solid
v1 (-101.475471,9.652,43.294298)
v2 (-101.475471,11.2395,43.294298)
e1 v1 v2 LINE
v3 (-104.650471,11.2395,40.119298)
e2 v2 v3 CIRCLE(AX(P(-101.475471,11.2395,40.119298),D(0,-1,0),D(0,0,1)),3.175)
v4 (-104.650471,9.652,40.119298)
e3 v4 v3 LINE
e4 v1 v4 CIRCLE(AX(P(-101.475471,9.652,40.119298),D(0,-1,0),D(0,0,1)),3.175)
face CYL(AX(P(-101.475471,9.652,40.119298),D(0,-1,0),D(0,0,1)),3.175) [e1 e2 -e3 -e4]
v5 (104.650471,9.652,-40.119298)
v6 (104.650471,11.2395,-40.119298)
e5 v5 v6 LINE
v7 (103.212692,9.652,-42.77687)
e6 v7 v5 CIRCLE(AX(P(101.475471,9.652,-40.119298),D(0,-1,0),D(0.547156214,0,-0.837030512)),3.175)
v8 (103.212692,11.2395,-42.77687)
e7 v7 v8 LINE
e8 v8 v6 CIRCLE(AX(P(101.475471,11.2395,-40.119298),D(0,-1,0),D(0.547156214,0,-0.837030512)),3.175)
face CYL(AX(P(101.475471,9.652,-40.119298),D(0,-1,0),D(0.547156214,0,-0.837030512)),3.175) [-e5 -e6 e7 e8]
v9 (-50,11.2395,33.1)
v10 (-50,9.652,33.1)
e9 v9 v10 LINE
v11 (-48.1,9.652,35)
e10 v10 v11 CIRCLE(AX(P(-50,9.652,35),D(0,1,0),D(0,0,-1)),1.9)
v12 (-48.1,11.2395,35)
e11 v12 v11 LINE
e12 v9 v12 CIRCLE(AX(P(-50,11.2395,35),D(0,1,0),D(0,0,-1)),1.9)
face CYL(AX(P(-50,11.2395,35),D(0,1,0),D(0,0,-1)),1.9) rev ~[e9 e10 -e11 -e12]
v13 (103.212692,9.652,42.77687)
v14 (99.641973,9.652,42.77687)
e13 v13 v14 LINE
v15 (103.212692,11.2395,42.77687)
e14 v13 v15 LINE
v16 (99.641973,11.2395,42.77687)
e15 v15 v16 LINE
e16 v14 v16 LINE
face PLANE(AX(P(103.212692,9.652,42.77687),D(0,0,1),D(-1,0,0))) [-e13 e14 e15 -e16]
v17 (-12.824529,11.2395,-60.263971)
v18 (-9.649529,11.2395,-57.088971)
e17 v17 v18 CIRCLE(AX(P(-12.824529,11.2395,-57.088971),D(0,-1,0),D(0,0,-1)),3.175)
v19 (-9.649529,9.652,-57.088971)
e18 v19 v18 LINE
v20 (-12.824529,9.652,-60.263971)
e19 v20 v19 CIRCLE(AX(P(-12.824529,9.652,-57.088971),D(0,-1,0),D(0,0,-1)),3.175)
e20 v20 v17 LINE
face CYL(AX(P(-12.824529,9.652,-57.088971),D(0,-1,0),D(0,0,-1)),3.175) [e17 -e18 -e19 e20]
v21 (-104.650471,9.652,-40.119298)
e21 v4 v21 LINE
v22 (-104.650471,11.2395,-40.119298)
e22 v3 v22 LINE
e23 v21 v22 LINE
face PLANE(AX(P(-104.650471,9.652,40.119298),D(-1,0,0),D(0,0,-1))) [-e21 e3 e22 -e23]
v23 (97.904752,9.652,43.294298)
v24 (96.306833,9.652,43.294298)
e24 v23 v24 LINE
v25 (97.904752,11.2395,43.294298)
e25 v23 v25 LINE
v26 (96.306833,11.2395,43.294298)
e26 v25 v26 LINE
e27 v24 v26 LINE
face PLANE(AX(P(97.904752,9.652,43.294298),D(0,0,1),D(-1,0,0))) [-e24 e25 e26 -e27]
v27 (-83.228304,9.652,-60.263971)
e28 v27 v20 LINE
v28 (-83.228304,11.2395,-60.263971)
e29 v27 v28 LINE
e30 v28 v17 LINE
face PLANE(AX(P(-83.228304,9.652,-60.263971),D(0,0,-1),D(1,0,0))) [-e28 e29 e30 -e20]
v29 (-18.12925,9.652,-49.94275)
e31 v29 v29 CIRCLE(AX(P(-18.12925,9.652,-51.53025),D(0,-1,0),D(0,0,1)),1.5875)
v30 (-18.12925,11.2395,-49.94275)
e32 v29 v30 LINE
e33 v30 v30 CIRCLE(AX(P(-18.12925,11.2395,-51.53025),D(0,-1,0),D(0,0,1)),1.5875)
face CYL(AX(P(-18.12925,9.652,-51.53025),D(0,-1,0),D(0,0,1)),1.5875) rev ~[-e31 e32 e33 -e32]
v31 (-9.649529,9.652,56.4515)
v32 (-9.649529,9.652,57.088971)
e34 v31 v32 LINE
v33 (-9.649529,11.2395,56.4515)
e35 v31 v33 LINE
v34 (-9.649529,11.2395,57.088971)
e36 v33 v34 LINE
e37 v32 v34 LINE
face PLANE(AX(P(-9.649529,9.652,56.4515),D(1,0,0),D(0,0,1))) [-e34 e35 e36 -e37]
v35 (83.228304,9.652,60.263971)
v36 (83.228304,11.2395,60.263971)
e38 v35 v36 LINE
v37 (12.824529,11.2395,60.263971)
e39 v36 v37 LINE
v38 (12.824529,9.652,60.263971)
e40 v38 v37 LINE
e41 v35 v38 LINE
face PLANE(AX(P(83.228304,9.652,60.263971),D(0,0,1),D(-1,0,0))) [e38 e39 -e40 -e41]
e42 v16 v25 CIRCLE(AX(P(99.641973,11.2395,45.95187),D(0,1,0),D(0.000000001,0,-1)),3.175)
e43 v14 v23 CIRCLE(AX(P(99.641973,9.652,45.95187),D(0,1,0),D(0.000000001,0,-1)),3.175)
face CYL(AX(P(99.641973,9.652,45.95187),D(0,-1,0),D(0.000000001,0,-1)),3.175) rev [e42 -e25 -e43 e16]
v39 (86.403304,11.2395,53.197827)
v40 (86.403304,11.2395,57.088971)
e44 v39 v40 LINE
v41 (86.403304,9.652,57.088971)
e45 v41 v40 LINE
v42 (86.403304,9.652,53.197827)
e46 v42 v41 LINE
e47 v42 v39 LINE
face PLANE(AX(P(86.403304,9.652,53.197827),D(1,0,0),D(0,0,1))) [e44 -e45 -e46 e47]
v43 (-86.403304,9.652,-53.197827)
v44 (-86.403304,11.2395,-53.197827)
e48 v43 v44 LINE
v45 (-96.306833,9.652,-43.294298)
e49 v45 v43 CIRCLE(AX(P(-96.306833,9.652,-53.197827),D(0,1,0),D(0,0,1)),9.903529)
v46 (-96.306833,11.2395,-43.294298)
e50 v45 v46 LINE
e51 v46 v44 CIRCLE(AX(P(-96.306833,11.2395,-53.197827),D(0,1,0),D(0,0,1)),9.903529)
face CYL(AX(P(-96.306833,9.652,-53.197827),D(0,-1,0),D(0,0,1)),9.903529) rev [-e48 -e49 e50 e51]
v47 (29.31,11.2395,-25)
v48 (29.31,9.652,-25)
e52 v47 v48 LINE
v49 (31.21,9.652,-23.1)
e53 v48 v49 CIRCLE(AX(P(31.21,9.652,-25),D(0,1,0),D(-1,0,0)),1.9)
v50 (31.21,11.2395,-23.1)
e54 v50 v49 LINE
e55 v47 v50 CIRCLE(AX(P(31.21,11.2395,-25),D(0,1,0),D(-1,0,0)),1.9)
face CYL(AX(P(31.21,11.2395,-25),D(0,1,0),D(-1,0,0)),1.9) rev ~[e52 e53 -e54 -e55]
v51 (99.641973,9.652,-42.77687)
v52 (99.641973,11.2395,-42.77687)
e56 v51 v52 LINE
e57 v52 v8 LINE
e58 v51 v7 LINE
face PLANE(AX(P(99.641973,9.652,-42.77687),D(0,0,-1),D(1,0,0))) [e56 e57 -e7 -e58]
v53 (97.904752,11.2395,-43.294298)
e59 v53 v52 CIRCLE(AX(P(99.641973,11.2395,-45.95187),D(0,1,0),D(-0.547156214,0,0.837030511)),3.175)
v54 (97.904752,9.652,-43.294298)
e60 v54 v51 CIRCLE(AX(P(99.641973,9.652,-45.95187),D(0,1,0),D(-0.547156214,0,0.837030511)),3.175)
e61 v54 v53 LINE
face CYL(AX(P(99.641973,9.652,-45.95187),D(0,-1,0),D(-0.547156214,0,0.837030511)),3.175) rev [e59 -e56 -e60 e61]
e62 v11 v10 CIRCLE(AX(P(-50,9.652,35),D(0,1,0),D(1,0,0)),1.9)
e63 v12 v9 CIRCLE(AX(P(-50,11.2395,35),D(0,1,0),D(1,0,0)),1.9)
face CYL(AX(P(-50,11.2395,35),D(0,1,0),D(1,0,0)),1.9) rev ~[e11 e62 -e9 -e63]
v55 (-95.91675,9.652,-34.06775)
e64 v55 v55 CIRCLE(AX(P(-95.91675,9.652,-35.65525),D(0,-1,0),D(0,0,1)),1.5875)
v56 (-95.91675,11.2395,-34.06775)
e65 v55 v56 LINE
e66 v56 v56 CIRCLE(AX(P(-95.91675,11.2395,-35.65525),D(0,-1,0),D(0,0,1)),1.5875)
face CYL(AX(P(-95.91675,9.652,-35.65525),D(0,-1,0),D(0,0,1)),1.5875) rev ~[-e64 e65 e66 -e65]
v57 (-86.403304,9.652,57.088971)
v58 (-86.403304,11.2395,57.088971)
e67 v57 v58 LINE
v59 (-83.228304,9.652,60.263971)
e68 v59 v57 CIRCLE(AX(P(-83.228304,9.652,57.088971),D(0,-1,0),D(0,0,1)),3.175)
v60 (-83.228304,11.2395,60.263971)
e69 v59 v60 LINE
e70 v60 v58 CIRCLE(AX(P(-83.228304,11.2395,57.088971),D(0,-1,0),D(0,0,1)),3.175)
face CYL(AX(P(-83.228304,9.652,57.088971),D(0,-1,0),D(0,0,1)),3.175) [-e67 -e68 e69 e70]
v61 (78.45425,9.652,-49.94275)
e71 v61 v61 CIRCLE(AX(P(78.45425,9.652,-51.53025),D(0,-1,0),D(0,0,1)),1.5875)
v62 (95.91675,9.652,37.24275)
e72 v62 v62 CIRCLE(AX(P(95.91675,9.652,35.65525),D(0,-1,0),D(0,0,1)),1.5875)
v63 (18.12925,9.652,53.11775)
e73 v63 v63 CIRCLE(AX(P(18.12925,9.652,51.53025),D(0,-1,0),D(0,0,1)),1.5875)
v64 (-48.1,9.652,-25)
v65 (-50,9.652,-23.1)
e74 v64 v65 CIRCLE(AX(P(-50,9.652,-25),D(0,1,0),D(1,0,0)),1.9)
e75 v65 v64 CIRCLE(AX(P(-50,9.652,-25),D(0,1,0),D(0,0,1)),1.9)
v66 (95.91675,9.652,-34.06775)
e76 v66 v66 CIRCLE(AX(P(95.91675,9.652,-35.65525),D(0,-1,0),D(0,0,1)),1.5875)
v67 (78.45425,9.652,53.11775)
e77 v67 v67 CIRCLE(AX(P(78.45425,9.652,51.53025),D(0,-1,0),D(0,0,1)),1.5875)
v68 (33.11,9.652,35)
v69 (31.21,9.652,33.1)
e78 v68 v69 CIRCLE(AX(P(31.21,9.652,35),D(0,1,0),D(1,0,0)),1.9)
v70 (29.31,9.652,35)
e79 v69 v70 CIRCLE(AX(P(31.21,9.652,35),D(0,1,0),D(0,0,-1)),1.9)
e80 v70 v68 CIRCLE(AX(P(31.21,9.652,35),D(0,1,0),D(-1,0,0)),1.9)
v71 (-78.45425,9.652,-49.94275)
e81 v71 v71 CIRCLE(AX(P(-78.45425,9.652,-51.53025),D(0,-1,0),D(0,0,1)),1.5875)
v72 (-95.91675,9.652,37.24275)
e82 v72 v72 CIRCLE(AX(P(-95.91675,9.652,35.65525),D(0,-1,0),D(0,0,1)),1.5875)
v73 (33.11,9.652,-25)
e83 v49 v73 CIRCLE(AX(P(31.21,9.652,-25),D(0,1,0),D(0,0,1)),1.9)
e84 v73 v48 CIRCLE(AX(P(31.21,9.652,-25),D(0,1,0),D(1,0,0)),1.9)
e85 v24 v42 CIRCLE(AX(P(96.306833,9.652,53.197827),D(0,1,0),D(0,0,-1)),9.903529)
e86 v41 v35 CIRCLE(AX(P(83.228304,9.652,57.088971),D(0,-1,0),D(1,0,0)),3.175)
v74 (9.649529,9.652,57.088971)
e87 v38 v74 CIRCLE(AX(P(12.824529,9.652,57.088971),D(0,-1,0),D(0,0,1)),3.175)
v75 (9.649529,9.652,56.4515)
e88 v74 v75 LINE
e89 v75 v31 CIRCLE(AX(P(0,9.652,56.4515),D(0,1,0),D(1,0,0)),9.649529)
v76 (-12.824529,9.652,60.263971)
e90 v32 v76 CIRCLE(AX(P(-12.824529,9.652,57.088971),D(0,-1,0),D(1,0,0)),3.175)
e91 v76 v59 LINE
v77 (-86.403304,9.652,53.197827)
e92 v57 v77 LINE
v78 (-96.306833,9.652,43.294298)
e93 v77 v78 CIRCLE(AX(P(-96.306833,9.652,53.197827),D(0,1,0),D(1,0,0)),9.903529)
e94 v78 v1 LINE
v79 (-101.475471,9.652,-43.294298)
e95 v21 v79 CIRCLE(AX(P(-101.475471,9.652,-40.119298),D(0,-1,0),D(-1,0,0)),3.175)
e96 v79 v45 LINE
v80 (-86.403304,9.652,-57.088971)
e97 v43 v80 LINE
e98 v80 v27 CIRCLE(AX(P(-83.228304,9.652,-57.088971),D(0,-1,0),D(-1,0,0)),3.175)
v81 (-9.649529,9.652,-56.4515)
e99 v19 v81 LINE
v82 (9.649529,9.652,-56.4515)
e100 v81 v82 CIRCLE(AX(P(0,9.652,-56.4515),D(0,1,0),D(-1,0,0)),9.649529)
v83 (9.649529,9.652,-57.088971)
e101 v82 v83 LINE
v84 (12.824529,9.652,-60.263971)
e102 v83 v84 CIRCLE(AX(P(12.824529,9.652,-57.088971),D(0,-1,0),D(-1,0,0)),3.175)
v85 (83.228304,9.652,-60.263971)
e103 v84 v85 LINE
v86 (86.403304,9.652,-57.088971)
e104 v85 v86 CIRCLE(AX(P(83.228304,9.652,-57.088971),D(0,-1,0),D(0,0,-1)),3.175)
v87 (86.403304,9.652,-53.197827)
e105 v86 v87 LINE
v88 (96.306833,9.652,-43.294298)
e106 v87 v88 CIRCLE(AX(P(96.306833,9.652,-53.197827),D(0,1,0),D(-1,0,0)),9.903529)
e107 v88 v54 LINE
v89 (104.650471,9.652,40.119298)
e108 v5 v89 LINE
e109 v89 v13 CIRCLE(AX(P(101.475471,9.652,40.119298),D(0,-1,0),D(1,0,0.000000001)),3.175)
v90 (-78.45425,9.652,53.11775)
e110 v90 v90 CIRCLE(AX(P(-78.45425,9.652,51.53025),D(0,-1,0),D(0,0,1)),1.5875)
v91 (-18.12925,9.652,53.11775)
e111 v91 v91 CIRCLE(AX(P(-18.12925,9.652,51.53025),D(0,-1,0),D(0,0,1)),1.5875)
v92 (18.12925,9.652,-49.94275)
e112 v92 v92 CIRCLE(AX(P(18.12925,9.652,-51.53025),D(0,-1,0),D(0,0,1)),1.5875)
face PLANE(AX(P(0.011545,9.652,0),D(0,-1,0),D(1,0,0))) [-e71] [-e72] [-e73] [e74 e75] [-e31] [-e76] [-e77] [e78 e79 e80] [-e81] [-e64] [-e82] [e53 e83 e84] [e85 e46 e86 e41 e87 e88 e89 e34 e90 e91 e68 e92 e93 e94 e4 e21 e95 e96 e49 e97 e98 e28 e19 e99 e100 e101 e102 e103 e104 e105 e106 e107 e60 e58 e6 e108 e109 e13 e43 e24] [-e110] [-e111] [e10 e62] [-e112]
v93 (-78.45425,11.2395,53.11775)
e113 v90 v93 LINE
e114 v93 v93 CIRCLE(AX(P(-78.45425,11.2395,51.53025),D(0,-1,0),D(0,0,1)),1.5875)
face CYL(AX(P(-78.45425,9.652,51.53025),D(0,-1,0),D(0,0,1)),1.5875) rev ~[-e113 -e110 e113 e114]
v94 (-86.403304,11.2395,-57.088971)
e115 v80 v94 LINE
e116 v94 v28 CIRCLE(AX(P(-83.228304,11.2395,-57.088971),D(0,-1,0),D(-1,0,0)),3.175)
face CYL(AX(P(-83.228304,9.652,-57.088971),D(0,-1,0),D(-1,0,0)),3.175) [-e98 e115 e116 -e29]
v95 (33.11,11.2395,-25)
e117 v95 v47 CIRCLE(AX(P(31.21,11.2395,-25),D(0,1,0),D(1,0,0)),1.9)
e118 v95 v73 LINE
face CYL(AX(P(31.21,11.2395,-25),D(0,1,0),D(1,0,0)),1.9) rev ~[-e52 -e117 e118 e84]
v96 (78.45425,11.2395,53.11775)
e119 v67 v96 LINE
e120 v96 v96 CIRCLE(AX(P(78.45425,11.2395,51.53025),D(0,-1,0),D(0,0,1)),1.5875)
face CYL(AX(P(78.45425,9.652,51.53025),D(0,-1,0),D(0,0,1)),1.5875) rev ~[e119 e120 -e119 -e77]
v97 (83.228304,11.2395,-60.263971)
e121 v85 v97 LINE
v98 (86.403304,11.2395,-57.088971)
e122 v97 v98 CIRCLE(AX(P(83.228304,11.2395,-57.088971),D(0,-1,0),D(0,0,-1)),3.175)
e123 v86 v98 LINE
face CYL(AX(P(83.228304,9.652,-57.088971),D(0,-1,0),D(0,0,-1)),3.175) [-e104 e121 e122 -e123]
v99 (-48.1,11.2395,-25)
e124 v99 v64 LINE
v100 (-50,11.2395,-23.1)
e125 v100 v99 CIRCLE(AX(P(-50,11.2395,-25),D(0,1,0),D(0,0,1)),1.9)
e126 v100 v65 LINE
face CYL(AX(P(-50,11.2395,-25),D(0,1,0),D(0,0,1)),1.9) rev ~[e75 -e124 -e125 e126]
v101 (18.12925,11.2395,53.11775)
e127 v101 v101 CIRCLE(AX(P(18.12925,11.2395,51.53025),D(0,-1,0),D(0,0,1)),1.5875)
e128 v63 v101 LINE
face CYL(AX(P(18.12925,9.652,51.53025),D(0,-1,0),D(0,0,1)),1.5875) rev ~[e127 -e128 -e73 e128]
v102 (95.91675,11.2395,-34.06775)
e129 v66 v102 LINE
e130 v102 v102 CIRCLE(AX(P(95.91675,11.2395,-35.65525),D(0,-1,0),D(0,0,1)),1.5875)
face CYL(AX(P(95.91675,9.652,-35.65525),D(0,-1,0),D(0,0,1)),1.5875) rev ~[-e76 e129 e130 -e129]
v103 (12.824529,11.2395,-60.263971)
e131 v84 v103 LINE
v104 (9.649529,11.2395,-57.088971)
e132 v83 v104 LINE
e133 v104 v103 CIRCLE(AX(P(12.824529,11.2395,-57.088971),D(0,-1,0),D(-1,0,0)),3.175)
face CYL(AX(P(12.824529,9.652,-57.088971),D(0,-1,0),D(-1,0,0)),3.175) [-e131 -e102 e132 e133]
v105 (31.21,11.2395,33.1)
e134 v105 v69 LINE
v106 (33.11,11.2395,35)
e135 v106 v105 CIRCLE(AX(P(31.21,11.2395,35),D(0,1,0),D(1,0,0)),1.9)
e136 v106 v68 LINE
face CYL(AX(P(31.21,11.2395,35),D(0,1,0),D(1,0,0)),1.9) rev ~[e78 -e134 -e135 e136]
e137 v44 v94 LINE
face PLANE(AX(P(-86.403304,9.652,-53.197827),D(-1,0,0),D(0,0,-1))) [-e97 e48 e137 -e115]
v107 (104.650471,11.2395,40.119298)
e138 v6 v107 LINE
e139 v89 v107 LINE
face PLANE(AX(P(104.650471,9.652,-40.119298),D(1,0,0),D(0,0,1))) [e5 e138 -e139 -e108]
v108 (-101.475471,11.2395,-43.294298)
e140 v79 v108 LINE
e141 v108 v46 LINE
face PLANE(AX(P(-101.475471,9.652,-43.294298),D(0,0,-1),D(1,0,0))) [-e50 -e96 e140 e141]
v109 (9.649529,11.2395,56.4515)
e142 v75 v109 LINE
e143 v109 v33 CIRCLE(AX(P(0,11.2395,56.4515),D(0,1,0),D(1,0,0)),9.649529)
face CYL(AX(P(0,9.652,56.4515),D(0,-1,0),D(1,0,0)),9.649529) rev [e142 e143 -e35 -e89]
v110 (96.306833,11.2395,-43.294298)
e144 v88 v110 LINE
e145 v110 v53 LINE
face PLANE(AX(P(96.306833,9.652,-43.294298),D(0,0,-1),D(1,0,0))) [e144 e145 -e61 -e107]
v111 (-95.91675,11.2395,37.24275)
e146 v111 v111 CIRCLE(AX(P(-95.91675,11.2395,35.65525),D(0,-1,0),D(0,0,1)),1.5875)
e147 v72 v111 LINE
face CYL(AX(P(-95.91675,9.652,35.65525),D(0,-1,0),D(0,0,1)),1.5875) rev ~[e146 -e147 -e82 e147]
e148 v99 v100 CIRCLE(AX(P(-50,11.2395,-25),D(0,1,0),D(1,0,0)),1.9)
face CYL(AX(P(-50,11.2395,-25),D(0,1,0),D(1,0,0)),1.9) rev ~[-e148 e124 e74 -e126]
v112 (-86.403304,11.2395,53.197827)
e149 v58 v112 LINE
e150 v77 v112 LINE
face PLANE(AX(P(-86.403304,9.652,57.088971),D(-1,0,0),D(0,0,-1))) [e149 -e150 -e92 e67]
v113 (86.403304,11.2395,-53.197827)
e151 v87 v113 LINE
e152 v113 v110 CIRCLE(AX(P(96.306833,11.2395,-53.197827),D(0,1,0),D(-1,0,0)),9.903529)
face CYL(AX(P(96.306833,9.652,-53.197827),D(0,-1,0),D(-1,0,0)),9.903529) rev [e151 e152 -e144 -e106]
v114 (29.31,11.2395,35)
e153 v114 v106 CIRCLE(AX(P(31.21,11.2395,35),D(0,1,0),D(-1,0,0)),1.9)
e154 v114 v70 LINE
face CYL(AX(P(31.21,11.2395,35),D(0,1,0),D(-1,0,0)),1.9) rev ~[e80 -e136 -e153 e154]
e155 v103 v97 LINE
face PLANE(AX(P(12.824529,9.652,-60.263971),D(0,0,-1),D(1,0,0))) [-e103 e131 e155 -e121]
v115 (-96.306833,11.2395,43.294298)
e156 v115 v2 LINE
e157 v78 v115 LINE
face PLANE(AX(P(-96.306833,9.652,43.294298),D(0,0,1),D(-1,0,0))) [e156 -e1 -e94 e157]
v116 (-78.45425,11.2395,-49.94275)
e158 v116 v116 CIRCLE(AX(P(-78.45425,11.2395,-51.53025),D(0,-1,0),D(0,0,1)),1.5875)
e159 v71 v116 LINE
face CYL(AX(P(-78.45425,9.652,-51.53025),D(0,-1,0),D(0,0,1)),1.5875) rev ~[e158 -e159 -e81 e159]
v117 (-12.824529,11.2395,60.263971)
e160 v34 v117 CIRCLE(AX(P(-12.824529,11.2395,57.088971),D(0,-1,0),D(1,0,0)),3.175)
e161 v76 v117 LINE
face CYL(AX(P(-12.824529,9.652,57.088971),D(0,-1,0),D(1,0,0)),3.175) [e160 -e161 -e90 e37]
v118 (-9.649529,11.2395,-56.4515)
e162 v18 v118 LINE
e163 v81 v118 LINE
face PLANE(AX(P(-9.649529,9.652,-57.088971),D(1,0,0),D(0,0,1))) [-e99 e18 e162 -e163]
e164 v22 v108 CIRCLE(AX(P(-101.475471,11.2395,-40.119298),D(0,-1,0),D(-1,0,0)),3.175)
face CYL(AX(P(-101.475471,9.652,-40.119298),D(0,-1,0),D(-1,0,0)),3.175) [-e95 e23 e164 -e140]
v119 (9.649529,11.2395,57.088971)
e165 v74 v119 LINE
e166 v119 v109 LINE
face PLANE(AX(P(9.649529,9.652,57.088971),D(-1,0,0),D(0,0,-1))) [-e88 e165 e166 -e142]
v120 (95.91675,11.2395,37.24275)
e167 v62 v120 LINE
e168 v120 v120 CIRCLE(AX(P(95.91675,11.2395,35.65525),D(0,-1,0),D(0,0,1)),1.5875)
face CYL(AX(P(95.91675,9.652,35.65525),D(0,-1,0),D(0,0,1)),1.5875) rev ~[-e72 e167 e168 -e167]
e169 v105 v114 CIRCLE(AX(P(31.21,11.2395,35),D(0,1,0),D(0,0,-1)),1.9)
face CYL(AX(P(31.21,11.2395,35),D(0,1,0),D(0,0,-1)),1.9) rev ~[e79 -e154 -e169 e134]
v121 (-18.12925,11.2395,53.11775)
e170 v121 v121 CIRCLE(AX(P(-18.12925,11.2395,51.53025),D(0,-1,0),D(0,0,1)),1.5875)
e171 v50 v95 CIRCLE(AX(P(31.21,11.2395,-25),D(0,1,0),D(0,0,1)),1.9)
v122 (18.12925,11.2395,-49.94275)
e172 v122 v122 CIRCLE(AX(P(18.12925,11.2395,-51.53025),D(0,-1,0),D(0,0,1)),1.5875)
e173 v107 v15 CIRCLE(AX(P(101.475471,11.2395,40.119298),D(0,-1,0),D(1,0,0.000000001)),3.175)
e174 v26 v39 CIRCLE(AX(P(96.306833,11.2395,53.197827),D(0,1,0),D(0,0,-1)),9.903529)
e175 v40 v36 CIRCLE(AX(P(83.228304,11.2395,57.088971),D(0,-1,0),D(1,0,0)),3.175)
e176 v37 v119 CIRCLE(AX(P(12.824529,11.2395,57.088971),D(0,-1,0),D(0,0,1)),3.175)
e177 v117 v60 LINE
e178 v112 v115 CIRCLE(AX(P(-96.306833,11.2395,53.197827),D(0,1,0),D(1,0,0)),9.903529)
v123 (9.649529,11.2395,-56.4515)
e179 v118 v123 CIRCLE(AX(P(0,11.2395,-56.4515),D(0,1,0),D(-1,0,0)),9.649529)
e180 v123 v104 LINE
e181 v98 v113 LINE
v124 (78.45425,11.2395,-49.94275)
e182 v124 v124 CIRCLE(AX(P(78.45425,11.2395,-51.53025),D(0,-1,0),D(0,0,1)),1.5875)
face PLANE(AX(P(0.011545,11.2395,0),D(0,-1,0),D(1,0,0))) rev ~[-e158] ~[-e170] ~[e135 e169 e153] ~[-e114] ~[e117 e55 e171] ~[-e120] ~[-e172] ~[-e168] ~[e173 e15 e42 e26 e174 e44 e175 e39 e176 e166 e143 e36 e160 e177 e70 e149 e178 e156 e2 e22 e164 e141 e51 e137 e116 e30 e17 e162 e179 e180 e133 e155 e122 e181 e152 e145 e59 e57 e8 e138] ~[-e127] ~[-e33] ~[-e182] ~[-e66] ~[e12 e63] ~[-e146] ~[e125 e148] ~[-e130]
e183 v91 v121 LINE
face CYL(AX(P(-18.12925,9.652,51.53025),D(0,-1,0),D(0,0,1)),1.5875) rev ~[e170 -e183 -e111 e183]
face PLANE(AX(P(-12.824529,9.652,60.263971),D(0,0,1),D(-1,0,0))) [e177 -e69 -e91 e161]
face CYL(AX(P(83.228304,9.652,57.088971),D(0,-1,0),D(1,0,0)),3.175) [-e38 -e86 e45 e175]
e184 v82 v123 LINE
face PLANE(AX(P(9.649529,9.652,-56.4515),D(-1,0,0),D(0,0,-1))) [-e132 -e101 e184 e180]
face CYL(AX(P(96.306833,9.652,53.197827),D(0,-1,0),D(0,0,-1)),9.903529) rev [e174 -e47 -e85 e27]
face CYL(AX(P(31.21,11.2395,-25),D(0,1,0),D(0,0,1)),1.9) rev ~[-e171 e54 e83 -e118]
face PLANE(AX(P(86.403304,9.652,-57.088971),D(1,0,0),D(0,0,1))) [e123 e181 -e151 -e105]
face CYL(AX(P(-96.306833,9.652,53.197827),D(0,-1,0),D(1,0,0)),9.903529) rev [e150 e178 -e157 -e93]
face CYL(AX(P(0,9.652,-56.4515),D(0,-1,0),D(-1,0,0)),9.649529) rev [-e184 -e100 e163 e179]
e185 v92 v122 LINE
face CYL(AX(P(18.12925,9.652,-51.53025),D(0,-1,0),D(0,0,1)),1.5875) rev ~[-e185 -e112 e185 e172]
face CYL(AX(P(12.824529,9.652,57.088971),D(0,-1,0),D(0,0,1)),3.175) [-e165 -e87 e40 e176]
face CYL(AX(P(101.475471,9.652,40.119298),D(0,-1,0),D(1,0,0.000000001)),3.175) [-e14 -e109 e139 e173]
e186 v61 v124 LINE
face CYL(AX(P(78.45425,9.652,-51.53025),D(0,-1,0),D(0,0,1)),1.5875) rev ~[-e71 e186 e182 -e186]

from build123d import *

# Parameters (mm, degrees)
SKETCH1_R           = 1.5875
BOSS_EXTRUDE1_DEPTH = 1.5875
CUT_EXTRUDE1_DEPTH  = 10


with BuildPart() as part:
    # Sketch1 → Boss-Extrude1 (new body)
    with BuildSketch(Plane.XZ.offset(-9.652)):
        with BuildLine():
            Line((-9.649529152, -57.088970848), (-9.649529152, -56.4515))
            ThreePointArc((-9.649529152, -56.4515), (0, -46.801970848), (9.649529152, -56.4515))
            Line((9.649529152, -56.4515), (9.649529152, -57.088970848))
            ThreePointArc((9.649529152, -57.088970848), (10.579465122, -59.334034878), (12.824529152, -60.263970848))
            Line((12.824529152, -60.263970848), (83.228304068, -60.263970848))
            ThreePointArc((83.228304068, -60.263970848), (85.473368098, -59.334034878), (86.403304068, -57.088970848))
            Line((86.403304068, -57.088970848), (86.403304068, -53.197827078))
            ThreePointArc((86.403304068, -53.197827078), (89.303980599, -46.194974456), (96.306833221, -43.294297925))
            Line((96.306833221, -43.294297925), (97.90475189, -43.294297925))
            ThreePointArc((97.90475189, -43.294297925), (98.735652203, -42.90897515), (99.641972868, -42.776869801))
            Line((99.641972868, -42.776869801), (103.212691826, -42.776869801))
            ThreePointArc((103.212691826, -42.776869801), (104.267987777, -41.630083879), (104.650470848, -40.119297925))
            Line((104.650470848, -40.119297925), (104.650470848, 40.119297925))
            ThreePointArc((104.650470848, 40.119297925), (104.267987777, 41.630083879), (103.212691826, 42.776869801))
            Line((103.212691826, 42.776869801), (99.641972868, 42.776869801))
            ThreePointArc((99.641972868, 42.776869801), (98.735652203, 42.90897515), (97.90475189, 43.294297925))
            Line((97.90475189, 43.294297925), (96.306833221, 43.294297925))
            ThreePointArc((96.306833221, 43.294297925), (89.303980599, 46.194974456), (86.403304068, 53.197827078))
            Line((86.403304068, 53.197827078), (86.403304068, 57.088970848))
            ThreePointArc((86.403304068, 57.088970848), (85.473368098, 59.334034878), (83.228304068, 60.263970848))
            Line((83.228304068, 60.263970848), (12.824529152, 60.263970848))
            ThreePointArc((12.824529152, 60.263970848), (10.579465122, 59.334034878), (9.649529152, 57.088970848))
            Line((9.649529152, 57.088970848), (9.649529152, 56.4515))
            ThreePointArc((9.649529152, 56.4515), (0, 46.801970848), (-9.649529152, 56.4515))
            Line((-9.649529152, 56.4515), (-9.649529152, 57.088970848))
            ThreePointArc((-9.649529152, 57.088970848), (-10.579465122, 59.334034878), (-12.824529152, 60.263970848))
            Line((-12.824529152, 60.263970848), (-83.228304068, 60.263970848))
            ThreePointArc((-83.228304068, 60.263970848), (-85.473368098, 59.334034878), (-86.403304068, 57.088970848))
            Line((-86.403304068, 57.088970848), (-86.403304068, 53.197827078))
            ThreePointArc((-86.403304068, 53.197827078), (-89.303980599, 46.194974456), (-96.306833221, 43.294297925))
            Line((-96.306833221, 43.294297925), (-101.475470848, 43.294297925))
            ThreePointArc((-101.475470848, 43.294297925), (-103.720534878, 42.364361955), (-104.650470848, 40.119297925))
            Line((-104.650470848, 40.119297925), (-104.650470848, -40.119297925))
            ThreePointArc((-104.650470848, -40.119297925), (-103.720534878, -42.364361955), (-101.475470848, -43.294297925))
            Line((-101.475470848, -43.294297925), (-96.306833221, -43.294297925))
            ThreePointArc((-96.306833221, -43.294297925), (-89.303980599, -46.194974456), (-86.403304068, -53.197827078))
            Line((-86.403304068, -53.197827078), (-86.403304068, -57.088970848))
            ThreePointArc((-86.403304068, -57.088970848), (-85.473368098, -59.334034878), (-83.228304068, -60.263970848))
            Line((-83.228304068, -60.263970848), (-12.824529152, -60.263970848))
            ThreePointArc((-12.824529152, -60.263970848), (-10.579465122, -59.334034878), (-9.649529152, -57.088970848))
        make_face()
        with Locations(Location((18.12925, 51.53025, 0), (0, 0, 90))):
            Circle(SKETCH1_R, mode=Mode.SUBTRACT)
        with Locations(Location((18.12925, -51.53025, 0), (0, 0, 90))):
            Circle(SKETCH1_R, mode=Mode.SUBTRACT)
        with Locations(Location((95.91675, -35.65525, 0), (0, 0, 90))):
            Circle(SKETCH1_R, mode=Mode.SUBTRACT)
        with Locations(Location((78.45425, 51.53025, 0), (0, 0, 90))):
            Circle(SKETCH1_R, mode=Mode.SUBTRACT)
        with Locations(Location((-95.91675, 35.65525, 0), (0, 0, 90))):
            Circle(SKETCH1_R, mode=Mode.SUBTRACT)
        with Locations(Location((-78.45425, -51.53025, 0), (0, 0, 90))):
            Circle(SKETCH1_R, mode=Mode.SUBTRACT)
        with Locations(Location((-18.12925, -51.53025, 0), (0, 0, 90))):
            Circle(SKETCH1_R, mode=Mode.SUBTRACT)
        with Locations(Location((-95.91675, -35.65525, 0), (0, 0, 90))):
            Circle(SKETCH1_R, mode=Mode.SUBTRACT)
        with Locations(Location((-78.45425, 51.53025, 0), (0, 0, 90))):
            Circle(SKETCH1_R, mode=Mode.SUBTRACT)
        with Locations(Location((95.91675, 35.65525, 0), (0, 0, 90))):
            Circle(SKETCH1_R, mode=Mode.SUBTRACT)
        with Locations(Location((78.45425, -51.53025, 0), (0, 0, 90))):
            Circle(SKETCH1_R, mode=Mode.SUBTRACT)
        with Locations(Location((-18.12925, 51.53025, 0), (0, 0, 90))):
            Circle(SKETCH1_R, mode=Mode.SUBTRACT)
    extrude(amount=-BOSS_EXTRUDE1_DEPTH)

    # Sketch2 → Cut-Extrude1 (cut)
    with BuildSketch(Plane(origin=(0, 11.2395, 0), x_dir=(1, 0, 0), z_dir=(0, 1, 0))):
        with BuildLine():
            ThreePointArc((-48.1, 25), (-51.343502884, 26.343502884), (-50, 23.1))
            Line((-50, 23.1), (-50, 25))
            Line((-50, 25), (-48.1, 25))
        make_face()
        with BuildLine():
            Line((-50, 25), (-50, 23.1))
            ThreePointArc((-50, 23.1), (-48.656497116, 23.656497116), (-48.1, 25))
            Line((-48.1, 25), (-50, 25))
        make_face()
        with BuildLine():
            Line((-48.1, -35), (-50, -35))
            Line((-50, -35), (-50, -33.1))
            ThreePointArc((-50, -33.1), (-51.343502884, -36.343502884), (-48.1, -35))
        make_face()
        with BuildLine():
            Line((-50, -33.1), (-50, -35))
            Line((-50, -35), (-48.1, -35))
            ThreePointArc((-48.1, -35), (-48.656497116, -33.656497116), (-50, -33.1))
        make_face()
        with BuildLine():
            ThreePointArc((31.21, -33.1), (29.866497116, -33.656497116), (29.31, -35))
            Line((29.31, -35), (31.21, -35))
            Line((31.21, -35), (31.21, -33.1))
        make_face()
        with BuildLine():
            Line((31.21, -35), (29.31, -35))
            ThreePointArc((29.31, -35), (31.21, -36.9), (33.11, -35))
            ThreePointArc((33.11, -35), (32.553502884, -33.656497116), (31.21, -33.1))
            Line((31.21, -33.1), (31.21, -35))
        make_face()
        with BuildLine():
            ThreePointArc((33.11, 25), (31.21, 26.9), (29.31, 25))
            Line((29.31, 25), (31.21, 25))
            Line((31.21, 25), (31.21, 23.1))
            ThreePointArc((31.21, 23.1), (32.553502884, 23.656497116), (33.11, 25))
        make_face()
        with BuildLine():
            Line((31.21, 25), (29.31, 25))
            ThreePointArc((29.31, 25), (29.866497116, 23.656497116), (31.21, 23.1))
            Line((31.21, 23.1), (31.21, 25))
        make_face()
    extrude(amount=-CUT_EXTRUDE1_DEPTH, mode=Mode.SUBTRACT)


solid = part.part
